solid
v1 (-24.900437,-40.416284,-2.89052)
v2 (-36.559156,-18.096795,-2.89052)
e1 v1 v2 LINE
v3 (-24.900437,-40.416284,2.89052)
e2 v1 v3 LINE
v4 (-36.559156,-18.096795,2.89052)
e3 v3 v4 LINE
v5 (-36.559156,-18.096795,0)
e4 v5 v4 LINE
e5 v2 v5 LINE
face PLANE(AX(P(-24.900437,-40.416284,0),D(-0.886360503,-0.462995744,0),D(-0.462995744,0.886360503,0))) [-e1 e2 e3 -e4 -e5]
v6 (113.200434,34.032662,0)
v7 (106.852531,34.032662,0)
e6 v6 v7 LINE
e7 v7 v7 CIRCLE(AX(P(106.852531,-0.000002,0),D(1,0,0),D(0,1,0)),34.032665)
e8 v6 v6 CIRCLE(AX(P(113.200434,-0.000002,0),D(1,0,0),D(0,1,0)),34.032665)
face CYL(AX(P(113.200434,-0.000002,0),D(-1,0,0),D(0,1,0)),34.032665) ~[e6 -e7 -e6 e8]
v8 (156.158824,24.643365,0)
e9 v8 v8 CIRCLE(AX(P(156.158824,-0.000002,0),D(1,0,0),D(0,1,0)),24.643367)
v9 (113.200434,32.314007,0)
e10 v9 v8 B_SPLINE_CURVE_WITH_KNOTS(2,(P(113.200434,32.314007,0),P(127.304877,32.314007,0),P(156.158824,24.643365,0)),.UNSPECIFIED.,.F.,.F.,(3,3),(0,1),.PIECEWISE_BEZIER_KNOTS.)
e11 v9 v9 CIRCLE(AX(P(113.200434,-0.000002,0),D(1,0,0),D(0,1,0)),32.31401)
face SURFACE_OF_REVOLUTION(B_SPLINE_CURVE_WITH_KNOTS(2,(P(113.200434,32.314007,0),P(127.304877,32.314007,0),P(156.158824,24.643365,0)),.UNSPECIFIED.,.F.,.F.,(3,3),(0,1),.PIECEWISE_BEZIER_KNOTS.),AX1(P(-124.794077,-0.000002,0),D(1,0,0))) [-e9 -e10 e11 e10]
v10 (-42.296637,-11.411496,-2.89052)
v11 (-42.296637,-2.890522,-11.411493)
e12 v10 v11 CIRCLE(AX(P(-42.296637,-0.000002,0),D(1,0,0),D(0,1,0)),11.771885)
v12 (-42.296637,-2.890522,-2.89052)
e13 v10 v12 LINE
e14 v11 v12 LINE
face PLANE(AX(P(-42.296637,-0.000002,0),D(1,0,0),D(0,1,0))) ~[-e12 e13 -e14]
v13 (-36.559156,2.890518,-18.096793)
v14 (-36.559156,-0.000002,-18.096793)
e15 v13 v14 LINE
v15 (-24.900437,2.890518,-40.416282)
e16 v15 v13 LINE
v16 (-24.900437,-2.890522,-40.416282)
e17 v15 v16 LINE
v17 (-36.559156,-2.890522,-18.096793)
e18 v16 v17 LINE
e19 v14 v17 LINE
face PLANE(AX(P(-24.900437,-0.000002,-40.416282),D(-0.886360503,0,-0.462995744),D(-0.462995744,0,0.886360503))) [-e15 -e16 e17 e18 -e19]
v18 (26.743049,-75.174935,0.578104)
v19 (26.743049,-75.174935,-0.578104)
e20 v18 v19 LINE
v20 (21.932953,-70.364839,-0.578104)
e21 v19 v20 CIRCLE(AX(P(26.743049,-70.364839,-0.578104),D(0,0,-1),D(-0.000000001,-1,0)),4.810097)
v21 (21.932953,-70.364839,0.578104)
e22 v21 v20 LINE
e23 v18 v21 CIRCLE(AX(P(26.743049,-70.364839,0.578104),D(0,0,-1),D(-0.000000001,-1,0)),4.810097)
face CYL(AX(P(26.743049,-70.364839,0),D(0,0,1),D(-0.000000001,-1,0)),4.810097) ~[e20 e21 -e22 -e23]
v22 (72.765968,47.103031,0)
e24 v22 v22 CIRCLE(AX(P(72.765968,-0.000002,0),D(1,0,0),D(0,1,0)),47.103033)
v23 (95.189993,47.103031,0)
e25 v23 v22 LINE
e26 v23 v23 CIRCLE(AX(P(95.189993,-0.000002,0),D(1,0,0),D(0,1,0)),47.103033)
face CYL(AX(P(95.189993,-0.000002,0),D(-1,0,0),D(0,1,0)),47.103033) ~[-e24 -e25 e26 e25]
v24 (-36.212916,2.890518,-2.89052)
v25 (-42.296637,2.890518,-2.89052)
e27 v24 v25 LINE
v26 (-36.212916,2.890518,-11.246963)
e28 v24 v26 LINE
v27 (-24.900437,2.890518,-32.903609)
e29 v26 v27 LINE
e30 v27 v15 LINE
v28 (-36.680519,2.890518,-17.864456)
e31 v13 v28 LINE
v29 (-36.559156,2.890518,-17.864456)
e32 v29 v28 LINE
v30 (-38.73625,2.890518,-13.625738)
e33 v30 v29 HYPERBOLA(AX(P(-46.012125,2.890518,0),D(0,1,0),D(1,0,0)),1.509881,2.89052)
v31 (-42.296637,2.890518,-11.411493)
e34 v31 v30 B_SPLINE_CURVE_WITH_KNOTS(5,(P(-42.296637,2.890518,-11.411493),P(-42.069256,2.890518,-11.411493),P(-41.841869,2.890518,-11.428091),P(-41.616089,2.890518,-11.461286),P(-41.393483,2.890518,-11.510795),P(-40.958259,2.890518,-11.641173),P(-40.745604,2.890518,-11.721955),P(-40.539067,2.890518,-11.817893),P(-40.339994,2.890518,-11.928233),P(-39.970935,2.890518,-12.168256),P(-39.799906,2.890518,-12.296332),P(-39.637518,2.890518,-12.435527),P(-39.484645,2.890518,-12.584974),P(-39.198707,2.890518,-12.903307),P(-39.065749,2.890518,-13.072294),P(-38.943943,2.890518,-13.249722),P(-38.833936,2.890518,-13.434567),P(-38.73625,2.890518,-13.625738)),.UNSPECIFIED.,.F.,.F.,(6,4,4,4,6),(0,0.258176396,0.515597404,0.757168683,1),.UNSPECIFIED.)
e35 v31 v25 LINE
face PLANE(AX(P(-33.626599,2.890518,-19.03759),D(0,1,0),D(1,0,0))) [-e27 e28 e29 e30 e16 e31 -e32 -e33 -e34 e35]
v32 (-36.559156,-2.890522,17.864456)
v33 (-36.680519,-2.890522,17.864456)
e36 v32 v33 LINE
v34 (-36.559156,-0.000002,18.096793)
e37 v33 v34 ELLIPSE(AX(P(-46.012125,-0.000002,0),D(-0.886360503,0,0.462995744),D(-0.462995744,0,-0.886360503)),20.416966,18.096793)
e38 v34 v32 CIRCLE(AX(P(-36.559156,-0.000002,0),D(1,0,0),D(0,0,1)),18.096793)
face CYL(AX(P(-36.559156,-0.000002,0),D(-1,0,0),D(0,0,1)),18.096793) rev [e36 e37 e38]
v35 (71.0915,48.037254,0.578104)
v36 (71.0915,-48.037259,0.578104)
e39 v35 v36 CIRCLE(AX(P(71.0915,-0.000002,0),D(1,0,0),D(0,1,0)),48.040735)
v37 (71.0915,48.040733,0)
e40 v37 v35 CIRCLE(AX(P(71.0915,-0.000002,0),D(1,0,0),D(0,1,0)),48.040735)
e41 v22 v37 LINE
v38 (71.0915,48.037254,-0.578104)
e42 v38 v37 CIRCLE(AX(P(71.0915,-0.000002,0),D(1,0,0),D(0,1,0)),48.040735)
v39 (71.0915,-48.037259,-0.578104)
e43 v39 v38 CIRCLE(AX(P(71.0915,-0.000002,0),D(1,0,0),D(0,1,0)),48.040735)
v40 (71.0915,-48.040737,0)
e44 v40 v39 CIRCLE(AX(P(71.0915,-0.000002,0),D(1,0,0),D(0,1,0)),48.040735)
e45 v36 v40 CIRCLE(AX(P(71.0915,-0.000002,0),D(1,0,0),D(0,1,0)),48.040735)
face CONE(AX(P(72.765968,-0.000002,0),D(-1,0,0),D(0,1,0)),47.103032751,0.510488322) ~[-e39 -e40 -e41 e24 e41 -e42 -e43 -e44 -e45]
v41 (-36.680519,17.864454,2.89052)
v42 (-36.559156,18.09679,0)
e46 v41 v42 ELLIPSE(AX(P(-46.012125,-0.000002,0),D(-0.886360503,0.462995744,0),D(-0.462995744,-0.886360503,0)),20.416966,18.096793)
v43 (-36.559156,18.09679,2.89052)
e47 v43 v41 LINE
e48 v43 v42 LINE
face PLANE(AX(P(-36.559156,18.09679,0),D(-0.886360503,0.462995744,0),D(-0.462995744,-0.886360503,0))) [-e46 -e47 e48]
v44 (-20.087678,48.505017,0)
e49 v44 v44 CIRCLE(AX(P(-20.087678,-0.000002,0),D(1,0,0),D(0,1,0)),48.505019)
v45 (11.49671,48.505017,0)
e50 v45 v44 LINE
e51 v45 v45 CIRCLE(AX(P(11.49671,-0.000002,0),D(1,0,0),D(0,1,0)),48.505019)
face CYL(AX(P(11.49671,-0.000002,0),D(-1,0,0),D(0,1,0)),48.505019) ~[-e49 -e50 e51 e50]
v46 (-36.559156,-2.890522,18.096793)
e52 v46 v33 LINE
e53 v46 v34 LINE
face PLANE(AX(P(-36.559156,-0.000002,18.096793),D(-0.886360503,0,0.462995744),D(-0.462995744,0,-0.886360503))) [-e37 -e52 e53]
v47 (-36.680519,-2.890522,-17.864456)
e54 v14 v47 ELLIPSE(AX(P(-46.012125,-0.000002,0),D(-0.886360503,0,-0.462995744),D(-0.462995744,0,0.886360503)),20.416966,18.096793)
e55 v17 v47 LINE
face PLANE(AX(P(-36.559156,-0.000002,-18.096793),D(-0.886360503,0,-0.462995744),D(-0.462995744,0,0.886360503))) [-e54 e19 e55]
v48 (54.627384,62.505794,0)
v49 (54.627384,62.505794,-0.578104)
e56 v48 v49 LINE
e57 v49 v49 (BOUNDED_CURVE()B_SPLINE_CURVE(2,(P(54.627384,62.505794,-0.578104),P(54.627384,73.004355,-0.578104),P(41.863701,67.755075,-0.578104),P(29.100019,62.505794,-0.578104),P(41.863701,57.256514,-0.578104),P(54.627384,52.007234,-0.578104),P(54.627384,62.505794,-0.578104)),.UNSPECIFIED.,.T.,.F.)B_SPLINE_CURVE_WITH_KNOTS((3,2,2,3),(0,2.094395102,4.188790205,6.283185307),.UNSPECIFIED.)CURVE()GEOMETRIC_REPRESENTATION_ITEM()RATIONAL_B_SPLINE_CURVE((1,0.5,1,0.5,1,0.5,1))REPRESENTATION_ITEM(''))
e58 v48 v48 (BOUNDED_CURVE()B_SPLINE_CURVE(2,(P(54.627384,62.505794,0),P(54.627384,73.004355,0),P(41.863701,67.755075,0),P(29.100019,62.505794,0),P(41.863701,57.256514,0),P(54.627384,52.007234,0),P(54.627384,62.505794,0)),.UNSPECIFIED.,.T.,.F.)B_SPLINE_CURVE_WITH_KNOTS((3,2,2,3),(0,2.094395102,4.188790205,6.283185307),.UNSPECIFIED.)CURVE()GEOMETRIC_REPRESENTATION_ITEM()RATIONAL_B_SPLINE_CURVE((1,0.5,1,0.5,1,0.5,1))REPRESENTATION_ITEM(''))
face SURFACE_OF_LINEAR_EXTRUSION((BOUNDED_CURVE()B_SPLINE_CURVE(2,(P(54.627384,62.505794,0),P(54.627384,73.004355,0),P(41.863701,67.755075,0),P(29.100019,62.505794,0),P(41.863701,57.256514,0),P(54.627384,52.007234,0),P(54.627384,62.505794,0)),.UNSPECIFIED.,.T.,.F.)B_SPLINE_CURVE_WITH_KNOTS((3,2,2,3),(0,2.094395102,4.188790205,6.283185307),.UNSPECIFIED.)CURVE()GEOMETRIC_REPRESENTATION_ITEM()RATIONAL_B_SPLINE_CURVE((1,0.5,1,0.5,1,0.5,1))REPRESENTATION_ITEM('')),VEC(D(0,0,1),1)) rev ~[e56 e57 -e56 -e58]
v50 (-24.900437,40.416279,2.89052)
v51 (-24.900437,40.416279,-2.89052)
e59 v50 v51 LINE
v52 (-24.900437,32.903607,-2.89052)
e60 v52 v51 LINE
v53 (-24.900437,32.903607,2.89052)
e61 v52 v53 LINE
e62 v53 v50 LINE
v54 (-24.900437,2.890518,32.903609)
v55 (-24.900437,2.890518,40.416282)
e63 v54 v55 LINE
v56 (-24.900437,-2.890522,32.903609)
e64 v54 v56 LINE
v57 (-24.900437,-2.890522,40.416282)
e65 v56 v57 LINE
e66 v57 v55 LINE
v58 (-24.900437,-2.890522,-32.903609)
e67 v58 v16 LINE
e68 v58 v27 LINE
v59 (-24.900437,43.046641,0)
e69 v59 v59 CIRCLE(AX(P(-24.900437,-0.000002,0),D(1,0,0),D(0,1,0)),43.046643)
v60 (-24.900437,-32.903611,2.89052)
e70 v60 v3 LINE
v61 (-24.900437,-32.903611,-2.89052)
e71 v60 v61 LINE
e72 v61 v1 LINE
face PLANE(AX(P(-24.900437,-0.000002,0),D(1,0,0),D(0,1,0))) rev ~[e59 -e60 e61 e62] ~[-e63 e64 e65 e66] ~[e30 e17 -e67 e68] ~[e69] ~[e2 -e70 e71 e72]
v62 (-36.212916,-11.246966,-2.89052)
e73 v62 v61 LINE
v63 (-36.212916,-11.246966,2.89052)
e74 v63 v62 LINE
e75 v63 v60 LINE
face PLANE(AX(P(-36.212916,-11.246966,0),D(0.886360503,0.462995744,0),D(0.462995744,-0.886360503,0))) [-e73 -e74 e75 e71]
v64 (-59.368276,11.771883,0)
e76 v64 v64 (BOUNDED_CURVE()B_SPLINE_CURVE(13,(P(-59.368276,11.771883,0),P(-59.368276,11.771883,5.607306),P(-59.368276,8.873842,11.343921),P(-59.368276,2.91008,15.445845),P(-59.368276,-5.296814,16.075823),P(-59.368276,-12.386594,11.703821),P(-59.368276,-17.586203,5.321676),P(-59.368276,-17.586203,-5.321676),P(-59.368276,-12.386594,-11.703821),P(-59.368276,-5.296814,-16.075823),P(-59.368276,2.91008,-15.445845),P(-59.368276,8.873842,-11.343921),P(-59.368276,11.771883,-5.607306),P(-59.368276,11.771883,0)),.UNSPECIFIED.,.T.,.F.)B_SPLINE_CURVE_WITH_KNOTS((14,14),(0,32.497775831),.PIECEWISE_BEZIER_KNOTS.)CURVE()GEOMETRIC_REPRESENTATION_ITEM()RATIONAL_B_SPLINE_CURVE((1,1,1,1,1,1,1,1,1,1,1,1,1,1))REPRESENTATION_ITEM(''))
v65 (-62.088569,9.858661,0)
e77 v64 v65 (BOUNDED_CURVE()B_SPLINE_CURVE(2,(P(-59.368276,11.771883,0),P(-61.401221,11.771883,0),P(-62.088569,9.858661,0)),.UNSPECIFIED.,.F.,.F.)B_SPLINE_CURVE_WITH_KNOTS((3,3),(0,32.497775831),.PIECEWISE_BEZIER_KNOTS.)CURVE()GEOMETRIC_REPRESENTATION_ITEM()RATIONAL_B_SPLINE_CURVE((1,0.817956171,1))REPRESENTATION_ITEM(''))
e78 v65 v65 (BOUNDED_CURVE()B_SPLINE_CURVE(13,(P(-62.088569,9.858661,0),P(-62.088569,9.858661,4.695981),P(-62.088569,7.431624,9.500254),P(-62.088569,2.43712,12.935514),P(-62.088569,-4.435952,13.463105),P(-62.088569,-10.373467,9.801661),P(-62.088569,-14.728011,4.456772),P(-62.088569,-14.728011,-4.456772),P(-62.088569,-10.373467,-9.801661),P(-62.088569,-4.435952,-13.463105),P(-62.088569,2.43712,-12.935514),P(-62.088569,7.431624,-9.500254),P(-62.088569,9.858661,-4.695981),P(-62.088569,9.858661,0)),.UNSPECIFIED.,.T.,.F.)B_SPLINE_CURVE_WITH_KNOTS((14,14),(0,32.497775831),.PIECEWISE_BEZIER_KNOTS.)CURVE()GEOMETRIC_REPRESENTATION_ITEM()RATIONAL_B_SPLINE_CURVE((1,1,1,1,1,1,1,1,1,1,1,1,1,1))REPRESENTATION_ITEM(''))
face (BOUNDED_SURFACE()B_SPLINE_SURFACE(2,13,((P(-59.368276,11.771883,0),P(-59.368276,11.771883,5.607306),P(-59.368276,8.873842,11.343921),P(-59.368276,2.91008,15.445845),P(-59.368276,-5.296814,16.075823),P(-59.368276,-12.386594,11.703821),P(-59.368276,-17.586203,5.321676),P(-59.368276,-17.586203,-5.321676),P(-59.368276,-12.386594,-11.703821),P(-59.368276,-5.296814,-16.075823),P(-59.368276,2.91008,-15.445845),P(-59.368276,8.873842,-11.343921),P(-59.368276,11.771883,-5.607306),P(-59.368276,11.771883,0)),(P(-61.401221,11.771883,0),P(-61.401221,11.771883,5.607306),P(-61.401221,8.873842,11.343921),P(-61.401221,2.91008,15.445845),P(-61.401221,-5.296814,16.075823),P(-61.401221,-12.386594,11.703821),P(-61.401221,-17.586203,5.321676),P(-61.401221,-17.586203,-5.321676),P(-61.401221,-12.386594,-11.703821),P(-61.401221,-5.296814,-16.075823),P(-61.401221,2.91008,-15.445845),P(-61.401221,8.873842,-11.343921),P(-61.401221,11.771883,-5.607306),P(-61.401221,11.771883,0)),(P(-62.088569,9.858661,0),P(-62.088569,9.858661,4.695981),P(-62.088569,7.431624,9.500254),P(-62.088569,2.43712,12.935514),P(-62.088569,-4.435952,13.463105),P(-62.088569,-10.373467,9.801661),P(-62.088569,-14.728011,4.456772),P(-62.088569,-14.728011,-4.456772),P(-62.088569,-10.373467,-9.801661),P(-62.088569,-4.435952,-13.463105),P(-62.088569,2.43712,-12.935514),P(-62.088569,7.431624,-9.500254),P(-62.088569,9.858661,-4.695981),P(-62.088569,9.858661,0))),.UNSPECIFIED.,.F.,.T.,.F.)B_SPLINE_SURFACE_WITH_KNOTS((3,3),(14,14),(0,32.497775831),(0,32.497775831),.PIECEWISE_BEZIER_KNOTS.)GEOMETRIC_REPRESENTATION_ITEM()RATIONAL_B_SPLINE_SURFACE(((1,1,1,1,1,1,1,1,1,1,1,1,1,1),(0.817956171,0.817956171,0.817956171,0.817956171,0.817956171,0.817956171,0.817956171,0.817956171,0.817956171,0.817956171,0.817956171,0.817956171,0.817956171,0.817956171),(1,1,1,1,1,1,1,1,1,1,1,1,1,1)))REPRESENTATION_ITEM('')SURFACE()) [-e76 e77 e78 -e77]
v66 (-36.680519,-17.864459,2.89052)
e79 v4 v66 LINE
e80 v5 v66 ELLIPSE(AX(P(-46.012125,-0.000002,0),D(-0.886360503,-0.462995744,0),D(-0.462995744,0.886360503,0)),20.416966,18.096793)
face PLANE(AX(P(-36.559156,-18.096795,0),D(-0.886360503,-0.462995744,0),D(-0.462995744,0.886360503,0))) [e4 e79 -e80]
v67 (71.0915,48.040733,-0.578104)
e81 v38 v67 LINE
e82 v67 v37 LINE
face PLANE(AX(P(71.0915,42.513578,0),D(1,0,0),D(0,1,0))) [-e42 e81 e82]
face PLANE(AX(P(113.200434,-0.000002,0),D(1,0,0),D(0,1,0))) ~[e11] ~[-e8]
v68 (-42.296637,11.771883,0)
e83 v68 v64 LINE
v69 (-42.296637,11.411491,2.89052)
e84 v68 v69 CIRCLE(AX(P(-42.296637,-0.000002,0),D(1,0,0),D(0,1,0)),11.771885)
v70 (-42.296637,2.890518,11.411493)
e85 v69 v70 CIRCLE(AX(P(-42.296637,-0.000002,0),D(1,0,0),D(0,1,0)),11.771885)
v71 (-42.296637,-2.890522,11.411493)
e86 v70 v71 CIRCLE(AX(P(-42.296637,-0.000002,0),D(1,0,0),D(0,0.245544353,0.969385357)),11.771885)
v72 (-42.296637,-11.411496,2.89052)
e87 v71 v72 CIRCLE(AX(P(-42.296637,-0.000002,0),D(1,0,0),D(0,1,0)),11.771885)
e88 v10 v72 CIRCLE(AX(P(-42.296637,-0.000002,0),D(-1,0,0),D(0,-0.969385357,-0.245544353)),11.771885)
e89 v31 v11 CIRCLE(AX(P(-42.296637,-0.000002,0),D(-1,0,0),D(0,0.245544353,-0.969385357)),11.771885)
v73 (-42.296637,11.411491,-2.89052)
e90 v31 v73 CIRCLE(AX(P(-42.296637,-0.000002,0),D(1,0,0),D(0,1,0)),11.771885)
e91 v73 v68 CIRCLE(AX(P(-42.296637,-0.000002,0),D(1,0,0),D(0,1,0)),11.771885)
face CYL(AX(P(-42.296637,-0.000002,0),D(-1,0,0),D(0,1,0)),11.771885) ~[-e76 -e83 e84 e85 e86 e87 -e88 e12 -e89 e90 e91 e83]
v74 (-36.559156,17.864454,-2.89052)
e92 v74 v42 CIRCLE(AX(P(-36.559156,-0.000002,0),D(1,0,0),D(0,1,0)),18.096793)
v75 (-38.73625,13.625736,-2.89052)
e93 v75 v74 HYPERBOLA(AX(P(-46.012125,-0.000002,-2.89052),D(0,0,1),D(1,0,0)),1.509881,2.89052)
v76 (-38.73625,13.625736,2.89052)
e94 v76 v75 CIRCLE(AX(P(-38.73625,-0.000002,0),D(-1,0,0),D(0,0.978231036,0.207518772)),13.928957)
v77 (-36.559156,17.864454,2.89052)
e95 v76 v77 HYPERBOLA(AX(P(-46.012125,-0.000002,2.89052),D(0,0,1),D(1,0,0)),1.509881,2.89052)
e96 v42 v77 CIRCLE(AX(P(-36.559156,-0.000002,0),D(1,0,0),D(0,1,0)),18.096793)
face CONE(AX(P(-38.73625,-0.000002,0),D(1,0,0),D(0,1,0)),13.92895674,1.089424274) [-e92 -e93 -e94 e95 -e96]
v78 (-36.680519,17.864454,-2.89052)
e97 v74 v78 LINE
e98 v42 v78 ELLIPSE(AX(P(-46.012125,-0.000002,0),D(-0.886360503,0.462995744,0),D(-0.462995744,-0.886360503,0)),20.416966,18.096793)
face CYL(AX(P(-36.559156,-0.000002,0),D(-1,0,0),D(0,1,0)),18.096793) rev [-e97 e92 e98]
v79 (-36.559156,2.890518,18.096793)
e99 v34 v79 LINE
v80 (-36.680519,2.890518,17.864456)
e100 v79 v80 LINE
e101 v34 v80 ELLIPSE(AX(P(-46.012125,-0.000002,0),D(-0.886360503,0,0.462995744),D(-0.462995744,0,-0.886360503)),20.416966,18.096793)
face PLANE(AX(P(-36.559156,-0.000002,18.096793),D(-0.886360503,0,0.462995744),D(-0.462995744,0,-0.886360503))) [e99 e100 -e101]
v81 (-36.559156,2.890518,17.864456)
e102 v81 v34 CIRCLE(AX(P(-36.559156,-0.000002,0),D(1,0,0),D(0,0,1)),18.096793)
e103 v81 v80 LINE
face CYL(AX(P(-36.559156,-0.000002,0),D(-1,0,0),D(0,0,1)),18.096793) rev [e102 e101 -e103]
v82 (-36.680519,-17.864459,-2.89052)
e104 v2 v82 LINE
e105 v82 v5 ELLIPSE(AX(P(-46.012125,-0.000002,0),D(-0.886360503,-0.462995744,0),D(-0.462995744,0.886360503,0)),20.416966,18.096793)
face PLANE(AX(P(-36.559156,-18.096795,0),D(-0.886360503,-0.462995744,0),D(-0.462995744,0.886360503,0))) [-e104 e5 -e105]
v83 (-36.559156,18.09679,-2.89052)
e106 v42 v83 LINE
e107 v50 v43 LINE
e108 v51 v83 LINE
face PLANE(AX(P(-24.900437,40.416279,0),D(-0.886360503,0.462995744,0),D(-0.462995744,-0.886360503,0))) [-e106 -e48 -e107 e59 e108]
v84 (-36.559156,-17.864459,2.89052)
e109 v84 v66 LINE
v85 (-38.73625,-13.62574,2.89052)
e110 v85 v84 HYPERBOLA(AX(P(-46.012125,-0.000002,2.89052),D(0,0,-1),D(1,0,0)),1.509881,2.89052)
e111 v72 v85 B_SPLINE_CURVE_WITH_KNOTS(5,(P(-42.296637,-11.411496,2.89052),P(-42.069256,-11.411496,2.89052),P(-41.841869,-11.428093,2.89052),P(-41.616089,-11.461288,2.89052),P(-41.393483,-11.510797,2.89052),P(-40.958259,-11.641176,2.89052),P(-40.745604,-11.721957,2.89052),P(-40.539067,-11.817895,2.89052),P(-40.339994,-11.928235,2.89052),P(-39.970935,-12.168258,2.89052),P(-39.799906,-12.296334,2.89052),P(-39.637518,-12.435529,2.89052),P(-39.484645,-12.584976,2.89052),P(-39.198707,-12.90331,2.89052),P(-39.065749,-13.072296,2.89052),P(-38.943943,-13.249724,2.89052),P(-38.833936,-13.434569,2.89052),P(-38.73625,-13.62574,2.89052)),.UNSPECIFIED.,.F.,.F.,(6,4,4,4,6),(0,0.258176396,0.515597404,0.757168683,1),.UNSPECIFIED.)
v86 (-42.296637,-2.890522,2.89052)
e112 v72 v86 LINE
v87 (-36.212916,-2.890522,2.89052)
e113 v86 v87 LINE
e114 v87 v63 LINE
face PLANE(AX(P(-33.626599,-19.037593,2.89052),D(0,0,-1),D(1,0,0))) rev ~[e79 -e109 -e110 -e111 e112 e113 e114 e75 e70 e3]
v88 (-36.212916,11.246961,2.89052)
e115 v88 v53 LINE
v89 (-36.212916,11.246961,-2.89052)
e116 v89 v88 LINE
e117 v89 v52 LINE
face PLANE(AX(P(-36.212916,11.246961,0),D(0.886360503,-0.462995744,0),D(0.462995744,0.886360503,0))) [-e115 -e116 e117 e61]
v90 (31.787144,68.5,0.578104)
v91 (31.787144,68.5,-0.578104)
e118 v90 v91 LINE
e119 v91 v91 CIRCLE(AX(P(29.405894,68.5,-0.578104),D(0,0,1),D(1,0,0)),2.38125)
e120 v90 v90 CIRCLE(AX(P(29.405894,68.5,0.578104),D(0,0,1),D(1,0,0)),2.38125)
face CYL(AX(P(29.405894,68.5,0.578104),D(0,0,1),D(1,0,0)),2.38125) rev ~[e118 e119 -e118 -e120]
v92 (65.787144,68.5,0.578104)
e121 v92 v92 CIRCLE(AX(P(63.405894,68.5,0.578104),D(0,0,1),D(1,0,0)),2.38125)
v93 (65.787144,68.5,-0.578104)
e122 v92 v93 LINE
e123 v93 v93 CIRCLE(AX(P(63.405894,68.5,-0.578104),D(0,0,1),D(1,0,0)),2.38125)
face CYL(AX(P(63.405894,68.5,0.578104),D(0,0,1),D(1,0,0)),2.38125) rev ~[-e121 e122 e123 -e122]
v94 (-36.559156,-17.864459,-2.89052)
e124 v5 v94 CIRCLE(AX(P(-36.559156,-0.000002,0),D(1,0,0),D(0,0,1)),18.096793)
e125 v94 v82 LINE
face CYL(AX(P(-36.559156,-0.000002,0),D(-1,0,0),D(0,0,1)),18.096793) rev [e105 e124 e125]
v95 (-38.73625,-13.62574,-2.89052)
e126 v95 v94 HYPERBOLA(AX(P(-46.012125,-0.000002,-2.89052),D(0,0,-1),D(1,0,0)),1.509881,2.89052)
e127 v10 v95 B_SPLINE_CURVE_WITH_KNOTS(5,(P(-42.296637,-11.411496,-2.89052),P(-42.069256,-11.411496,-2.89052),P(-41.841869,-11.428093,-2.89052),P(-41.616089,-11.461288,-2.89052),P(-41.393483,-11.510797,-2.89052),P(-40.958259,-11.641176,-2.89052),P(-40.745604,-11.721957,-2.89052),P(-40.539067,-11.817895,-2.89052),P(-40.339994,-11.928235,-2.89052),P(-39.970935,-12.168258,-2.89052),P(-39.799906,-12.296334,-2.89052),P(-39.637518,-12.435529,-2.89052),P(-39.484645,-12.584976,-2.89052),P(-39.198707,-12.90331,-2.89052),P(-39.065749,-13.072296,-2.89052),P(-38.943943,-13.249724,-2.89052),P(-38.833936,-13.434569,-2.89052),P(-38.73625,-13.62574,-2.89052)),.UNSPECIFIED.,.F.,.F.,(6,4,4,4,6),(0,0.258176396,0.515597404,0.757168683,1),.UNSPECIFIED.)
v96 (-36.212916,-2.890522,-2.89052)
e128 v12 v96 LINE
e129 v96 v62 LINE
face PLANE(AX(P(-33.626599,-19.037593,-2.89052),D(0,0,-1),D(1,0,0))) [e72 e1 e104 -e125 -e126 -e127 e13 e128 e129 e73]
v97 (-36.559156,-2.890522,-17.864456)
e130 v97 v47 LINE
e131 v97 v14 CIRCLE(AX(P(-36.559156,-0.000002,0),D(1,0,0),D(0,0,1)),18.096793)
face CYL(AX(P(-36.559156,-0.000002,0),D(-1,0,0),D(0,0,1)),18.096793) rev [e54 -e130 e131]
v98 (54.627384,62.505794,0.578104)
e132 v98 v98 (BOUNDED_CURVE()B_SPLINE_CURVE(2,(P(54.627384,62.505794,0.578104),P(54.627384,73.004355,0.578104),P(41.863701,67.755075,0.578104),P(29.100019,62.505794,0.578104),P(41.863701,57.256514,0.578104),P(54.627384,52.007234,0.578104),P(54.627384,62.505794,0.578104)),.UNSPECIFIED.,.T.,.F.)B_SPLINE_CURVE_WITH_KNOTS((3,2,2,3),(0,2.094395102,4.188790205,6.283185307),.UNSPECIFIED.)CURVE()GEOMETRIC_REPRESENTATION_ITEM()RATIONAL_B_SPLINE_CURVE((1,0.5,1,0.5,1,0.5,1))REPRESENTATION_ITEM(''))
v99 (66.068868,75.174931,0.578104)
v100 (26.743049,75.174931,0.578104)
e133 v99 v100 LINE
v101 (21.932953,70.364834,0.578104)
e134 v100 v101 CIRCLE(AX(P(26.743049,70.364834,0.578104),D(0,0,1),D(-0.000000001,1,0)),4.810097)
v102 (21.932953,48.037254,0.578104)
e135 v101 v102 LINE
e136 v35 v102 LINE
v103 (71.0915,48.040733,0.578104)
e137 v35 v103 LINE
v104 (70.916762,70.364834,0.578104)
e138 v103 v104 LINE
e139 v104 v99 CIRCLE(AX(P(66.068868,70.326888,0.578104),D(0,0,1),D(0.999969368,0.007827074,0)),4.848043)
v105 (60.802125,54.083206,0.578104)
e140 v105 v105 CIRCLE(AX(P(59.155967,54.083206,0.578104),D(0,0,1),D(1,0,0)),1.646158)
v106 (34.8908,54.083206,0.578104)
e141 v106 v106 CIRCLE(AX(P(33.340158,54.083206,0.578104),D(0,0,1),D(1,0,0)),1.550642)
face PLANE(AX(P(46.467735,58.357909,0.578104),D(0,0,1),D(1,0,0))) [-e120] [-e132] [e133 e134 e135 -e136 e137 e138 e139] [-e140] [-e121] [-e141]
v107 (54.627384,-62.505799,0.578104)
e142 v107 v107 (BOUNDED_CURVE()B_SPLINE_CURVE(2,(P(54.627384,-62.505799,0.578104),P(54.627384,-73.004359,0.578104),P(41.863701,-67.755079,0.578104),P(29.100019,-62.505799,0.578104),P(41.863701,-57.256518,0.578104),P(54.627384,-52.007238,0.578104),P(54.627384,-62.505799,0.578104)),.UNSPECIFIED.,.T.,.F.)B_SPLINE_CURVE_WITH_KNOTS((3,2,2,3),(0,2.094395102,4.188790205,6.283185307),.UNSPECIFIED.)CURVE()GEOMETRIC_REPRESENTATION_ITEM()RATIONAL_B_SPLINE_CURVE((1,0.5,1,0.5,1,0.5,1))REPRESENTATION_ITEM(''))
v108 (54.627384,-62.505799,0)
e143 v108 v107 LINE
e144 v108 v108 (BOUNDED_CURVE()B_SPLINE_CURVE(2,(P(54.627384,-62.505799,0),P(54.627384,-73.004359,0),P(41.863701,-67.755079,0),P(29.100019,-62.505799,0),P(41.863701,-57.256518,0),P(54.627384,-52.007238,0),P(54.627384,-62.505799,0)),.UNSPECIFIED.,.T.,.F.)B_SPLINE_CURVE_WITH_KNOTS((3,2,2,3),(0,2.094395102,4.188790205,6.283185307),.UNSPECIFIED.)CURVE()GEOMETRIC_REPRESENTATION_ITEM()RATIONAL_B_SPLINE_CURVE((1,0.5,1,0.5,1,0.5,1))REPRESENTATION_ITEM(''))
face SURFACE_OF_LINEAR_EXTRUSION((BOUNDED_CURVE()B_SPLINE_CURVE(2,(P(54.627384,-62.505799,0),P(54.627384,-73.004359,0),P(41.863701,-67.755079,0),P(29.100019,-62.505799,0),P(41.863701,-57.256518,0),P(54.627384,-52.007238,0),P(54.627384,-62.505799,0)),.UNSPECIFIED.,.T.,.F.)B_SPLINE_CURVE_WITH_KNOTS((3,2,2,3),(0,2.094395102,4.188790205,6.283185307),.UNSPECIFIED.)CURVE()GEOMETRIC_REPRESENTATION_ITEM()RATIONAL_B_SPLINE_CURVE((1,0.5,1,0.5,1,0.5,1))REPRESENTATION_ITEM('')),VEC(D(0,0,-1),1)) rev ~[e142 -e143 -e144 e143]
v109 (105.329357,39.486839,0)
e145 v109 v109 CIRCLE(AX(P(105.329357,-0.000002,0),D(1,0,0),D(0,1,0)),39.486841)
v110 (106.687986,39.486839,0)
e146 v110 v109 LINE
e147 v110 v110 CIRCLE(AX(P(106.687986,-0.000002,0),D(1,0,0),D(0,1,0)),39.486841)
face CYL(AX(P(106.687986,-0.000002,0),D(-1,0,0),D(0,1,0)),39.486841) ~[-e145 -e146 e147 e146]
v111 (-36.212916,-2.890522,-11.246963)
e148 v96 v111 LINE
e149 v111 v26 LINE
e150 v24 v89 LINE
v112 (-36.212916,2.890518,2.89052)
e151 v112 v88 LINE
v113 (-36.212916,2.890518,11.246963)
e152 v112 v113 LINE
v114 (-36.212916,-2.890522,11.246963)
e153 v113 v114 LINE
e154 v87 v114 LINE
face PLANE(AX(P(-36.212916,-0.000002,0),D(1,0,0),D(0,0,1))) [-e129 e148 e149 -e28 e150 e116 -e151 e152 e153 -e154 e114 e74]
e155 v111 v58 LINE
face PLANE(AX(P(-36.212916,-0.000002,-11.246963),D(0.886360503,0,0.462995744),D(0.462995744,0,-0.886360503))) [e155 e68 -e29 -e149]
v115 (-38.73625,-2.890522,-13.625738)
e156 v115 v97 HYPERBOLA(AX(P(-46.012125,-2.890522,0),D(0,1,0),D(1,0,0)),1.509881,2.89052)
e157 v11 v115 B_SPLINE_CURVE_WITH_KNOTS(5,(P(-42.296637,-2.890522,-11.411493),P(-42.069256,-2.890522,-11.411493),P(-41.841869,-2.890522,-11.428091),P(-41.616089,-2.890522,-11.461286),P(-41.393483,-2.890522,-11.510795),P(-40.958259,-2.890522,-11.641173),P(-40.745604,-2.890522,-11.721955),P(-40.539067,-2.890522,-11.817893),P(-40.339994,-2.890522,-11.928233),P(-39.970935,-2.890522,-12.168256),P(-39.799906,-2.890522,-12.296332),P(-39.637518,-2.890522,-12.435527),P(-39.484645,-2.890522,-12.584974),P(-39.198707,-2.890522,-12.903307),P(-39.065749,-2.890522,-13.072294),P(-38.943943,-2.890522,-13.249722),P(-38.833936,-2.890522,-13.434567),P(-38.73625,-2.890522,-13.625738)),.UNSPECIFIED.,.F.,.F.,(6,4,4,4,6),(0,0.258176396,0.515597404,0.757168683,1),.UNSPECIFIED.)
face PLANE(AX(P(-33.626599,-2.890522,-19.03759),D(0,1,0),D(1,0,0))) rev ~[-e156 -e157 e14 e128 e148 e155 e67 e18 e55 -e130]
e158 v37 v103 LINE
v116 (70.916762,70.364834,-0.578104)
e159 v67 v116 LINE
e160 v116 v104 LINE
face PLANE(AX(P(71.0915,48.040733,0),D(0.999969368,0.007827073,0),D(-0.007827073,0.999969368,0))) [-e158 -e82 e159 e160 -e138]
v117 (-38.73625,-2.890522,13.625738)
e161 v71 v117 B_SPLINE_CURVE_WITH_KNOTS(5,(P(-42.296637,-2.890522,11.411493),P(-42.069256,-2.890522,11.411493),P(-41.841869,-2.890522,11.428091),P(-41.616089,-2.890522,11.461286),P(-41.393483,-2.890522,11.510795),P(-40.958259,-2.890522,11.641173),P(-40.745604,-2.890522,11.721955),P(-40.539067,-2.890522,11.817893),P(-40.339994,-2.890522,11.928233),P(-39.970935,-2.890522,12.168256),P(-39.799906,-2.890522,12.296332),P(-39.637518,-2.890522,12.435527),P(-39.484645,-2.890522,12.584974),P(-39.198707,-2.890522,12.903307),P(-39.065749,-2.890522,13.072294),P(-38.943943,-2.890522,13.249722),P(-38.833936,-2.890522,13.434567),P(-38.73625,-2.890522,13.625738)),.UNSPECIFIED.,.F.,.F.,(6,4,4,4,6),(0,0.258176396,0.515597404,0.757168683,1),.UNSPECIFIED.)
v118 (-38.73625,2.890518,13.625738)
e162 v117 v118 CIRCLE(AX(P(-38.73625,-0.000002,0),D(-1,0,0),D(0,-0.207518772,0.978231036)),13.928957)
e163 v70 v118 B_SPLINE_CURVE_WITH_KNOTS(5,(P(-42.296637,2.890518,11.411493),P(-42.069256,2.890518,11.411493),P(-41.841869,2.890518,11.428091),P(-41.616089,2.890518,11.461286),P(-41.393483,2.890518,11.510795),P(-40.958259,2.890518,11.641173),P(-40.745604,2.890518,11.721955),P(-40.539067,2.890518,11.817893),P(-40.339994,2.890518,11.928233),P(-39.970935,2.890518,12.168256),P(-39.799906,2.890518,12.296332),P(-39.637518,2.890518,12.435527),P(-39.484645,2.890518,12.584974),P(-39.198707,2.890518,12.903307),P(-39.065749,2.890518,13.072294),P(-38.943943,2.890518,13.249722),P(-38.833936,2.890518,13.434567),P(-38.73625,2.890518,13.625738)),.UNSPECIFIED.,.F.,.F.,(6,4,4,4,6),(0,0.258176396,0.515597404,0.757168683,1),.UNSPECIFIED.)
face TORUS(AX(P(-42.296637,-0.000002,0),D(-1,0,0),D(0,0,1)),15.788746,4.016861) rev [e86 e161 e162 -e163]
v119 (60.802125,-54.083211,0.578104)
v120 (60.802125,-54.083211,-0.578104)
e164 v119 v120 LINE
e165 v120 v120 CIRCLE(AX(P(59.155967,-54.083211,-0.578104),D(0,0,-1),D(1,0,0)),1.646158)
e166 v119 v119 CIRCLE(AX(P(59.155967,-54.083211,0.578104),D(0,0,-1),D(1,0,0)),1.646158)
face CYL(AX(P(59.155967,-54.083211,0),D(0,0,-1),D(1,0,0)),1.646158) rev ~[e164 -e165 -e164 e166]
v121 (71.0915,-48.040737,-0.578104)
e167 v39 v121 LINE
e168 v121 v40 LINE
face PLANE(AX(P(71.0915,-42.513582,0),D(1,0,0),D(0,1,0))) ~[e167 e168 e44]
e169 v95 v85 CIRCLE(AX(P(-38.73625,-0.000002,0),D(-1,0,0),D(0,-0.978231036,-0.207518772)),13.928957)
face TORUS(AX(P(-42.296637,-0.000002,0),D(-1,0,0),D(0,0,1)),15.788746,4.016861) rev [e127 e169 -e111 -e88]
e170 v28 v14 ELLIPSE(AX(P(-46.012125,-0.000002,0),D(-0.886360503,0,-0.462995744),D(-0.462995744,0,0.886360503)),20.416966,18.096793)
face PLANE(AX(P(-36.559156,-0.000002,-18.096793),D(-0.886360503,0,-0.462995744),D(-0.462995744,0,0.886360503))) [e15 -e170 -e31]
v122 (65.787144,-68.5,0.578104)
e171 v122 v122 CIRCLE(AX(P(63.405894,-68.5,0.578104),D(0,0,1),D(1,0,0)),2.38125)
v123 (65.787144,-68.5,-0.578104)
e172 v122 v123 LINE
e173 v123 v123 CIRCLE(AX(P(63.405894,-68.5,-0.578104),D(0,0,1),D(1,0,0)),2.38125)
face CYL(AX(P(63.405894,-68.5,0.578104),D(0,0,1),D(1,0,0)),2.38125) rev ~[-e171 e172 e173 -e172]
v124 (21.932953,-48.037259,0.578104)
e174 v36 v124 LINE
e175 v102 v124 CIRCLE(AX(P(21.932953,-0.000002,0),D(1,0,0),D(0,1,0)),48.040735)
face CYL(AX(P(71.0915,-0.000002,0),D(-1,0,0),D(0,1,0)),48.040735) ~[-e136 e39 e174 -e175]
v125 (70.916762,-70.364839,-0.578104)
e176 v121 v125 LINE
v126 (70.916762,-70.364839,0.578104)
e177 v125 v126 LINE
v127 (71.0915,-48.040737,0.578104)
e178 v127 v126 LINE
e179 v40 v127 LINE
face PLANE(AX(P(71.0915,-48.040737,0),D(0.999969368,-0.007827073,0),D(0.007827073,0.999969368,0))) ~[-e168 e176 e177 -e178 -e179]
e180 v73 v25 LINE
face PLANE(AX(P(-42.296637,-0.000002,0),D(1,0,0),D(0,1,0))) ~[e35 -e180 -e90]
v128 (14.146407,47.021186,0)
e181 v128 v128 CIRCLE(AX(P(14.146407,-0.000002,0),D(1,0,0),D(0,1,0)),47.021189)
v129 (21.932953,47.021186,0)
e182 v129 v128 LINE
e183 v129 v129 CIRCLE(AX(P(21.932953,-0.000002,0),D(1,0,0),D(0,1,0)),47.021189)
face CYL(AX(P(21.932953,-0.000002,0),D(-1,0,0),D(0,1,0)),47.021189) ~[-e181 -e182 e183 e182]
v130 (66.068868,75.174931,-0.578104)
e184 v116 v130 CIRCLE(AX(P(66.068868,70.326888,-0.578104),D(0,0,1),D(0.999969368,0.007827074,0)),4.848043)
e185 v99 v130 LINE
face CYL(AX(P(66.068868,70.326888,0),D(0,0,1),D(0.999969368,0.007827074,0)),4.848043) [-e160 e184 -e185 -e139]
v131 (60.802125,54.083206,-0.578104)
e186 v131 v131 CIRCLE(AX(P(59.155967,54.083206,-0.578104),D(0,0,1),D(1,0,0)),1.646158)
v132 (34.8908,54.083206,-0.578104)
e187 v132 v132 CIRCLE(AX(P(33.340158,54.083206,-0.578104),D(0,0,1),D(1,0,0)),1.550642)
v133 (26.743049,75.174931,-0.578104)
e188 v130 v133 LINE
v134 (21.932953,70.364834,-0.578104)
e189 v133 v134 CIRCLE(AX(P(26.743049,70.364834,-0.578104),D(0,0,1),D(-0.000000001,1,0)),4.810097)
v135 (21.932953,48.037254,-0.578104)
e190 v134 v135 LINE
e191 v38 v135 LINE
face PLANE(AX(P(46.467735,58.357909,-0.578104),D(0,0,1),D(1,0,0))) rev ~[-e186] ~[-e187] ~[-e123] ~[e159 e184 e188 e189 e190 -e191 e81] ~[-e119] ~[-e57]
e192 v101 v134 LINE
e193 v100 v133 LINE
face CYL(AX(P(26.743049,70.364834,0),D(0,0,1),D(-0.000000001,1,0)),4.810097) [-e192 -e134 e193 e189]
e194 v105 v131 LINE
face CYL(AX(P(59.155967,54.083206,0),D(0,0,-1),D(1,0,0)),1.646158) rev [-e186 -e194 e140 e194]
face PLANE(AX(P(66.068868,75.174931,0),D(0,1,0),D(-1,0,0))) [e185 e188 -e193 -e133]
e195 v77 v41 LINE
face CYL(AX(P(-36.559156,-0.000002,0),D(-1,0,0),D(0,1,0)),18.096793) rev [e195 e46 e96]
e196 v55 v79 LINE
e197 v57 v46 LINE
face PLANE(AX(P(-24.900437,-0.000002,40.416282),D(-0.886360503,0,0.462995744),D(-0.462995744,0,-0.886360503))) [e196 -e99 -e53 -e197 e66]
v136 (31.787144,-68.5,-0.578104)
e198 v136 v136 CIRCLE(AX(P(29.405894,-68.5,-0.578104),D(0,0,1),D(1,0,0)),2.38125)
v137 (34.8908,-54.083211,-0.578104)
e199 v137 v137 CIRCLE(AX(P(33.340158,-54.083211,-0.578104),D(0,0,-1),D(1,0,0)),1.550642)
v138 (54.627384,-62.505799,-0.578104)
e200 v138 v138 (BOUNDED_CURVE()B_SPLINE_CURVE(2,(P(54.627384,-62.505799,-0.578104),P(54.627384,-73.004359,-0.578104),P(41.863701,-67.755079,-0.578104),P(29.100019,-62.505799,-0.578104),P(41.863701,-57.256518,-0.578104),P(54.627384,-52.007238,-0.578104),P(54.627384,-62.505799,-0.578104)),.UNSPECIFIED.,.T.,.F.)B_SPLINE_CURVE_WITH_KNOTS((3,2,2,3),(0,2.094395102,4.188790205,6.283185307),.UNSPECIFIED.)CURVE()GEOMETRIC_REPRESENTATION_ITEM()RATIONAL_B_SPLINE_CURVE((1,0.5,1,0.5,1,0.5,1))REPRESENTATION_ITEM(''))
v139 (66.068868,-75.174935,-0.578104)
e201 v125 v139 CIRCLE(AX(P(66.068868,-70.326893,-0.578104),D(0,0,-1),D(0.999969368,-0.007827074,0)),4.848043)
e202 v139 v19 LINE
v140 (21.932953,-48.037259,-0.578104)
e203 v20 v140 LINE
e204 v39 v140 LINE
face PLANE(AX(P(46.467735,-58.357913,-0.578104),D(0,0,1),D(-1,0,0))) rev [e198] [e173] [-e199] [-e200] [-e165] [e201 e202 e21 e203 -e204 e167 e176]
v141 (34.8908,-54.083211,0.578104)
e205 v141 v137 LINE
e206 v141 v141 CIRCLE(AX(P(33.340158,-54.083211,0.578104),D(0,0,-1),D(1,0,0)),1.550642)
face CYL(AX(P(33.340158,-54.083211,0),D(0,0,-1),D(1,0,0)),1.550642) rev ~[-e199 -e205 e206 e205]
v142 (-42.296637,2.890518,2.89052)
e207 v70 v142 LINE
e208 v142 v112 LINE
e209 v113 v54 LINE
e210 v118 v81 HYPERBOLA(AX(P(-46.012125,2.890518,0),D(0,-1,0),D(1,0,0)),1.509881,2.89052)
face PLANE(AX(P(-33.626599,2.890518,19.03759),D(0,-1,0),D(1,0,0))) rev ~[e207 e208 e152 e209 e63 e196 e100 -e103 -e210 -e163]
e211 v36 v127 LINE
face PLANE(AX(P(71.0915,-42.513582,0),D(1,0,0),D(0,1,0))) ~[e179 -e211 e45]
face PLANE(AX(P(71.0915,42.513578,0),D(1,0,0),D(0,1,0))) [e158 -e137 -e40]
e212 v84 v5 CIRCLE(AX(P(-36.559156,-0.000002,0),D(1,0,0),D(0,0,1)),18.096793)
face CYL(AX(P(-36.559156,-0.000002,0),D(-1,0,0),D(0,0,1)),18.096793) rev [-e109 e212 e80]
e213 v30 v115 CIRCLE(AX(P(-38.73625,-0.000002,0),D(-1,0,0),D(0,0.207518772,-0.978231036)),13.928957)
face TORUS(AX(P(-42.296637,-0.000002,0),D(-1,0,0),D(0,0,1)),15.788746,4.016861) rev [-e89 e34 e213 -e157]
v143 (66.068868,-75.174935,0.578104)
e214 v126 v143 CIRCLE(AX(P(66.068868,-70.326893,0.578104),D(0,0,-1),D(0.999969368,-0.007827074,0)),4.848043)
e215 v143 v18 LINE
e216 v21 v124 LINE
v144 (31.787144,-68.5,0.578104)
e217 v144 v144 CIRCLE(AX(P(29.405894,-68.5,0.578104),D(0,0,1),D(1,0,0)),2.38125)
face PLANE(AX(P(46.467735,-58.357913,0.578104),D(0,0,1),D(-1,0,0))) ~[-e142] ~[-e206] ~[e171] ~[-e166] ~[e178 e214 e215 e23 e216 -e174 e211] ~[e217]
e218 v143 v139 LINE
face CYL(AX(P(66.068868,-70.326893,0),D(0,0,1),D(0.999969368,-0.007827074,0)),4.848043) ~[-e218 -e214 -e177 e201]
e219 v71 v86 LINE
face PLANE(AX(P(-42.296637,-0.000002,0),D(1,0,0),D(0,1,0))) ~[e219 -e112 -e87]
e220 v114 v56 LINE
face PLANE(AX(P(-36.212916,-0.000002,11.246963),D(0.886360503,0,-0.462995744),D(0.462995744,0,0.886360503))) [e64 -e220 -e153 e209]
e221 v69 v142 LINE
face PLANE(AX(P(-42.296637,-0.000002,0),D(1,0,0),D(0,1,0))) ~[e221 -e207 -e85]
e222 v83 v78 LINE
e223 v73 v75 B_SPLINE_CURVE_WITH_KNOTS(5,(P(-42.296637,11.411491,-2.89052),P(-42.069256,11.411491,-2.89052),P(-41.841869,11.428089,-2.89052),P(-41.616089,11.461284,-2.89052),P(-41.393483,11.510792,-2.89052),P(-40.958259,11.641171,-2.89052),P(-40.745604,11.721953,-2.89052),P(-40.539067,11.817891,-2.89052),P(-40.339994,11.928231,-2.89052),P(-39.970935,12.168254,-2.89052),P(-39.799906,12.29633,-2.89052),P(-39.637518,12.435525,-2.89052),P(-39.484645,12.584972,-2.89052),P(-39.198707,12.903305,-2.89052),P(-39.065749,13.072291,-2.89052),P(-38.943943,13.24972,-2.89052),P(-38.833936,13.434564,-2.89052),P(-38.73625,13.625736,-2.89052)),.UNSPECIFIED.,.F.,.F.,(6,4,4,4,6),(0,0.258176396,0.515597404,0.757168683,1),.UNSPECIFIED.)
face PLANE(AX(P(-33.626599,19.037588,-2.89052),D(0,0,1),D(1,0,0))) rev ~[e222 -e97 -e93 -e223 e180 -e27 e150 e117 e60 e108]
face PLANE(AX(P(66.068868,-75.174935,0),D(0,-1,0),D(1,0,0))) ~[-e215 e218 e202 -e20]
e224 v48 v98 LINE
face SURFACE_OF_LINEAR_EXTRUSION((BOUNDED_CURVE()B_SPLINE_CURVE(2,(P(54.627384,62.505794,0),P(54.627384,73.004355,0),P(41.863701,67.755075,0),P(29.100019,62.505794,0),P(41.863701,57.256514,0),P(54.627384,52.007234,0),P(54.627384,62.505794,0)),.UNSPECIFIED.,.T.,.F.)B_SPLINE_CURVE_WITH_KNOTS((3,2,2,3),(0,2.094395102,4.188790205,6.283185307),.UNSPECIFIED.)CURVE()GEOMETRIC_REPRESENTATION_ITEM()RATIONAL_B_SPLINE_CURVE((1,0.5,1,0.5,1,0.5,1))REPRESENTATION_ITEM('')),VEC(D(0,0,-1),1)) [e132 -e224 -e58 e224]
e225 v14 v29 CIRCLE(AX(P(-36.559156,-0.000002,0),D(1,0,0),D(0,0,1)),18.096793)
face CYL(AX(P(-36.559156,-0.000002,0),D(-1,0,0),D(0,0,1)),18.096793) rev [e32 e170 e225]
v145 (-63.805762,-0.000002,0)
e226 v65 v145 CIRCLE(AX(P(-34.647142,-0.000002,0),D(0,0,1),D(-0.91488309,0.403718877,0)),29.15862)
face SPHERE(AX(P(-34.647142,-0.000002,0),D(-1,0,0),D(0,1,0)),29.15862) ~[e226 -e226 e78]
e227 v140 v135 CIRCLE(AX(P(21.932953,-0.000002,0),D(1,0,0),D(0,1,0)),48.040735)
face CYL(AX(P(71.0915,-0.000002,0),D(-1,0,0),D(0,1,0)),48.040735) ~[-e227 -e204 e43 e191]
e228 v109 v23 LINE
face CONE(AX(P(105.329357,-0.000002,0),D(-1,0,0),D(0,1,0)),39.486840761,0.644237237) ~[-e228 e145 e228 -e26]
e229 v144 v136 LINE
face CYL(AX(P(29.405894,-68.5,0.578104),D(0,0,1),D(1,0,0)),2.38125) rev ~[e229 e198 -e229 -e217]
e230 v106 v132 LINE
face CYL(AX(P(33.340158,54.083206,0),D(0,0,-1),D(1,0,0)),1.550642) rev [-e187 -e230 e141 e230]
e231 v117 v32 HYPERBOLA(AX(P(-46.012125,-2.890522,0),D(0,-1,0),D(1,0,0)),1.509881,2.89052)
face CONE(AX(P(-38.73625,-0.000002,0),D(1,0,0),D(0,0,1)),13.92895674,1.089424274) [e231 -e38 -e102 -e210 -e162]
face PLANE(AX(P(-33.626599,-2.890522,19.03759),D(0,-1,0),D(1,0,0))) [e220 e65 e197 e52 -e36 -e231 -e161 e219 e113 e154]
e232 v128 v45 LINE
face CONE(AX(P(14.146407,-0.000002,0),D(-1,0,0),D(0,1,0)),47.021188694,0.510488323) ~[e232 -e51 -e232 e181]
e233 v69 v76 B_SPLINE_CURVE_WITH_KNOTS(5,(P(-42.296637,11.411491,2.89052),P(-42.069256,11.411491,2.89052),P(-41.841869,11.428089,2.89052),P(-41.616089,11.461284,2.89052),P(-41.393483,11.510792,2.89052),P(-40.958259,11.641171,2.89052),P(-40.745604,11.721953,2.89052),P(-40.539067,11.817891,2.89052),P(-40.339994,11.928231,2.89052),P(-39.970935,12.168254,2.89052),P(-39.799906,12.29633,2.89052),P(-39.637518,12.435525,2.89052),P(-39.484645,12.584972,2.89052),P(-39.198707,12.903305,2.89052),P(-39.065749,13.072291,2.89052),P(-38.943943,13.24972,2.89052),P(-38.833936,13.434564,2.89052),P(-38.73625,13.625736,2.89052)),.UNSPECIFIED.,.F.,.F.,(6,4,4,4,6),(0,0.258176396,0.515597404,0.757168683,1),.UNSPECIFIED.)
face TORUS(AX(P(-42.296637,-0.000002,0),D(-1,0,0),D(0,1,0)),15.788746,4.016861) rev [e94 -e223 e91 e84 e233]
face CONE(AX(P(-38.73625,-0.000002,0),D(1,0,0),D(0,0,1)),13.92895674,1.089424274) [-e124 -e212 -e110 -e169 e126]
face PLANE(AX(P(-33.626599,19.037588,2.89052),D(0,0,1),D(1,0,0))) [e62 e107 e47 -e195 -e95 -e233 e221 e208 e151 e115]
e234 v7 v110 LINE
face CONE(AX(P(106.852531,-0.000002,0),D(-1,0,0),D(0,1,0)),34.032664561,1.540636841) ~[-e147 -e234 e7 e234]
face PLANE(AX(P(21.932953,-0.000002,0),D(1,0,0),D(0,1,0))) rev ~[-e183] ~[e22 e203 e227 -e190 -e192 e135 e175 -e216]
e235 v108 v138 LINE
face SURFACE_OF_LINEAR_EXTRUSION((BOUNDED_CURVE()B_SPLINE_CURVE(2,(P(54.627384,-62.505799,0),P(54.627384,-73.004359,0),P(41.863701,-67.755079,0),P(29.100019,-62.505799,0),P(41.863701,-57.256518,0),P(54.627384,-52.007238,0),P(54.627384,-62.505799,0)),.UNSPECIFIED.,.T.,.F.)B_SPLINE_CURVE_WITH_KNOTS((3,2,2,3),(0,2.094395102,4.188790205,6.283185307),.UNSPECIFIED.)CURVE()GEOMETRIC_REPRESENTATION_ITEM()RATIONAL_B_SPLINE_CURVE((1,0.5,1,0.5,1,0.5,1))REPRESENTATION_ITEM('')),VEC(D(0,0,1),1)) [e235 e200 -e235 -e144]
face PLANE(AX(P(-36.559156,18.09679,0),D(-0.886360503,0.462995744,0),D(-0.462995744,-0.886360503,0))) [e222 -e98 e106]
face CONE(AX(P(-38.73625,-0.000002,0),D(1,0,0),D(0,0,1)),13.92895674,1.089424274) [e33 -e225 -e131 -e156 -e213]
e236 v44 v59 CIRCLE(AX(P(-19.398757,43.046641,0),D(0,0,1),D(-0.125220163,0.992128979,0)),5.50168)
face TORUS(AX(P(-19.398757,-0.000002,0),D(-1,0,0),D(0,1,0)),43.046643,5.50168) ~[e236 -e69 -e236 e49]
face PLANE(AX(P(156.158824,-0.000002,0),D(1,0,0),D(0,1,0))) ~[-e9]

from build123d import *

# Parameters (mm, degrees)
SKETCH1_4_R         = 0.681301536
SKETCH1_4_R_2       = 0.723268125
BOSS_EXTRUDE1_DEPTH = 0.254
BOSS_EXTRUDE2_DEPTH = 1.27
CIRPATTERN1_COUNT   = 4
FILLET1_R           = 1.27
SCALE1_SCALE        = 2.276
SKETCH2_R           = 2.38125
CUT_EXTRUDE1_DEPTH  = 181.12773864


with BuildPart() as part:
    # Sketch1 → Revolve1 (revolve)
    with BuildSketch(Plane.XY):
        with BuildLine():
            Line((9.450406563, 5.172181663), (1.090462068, 5.172181663))
            ThreePointArc((1.090462068, 5.172181663), (0.275579454, 2.642942048), (0, 0))
            Line((0, 0), (9.450406563, 0))
            Line((9.450406563, 0), (9.450406563, 5.172181663))
        make_face()
        with BuildLine():
            Line((17.093728294, 18.913287876), (17.093728294, 0))
            Line((17.093728294, 0), (96.645248899, 0))
            Line((96.645248899, 0), (96.645248899, 10.827489794))
            add(Edge.make_bspline(
                [(77.770736546, 14.197719485), (83.967767677, 14.197719485), (96.645248899, 10.827489794)],
                knots=[0, 0, 0, 1, 1, 1], degree=2))
            Line((77.770736546, 14.197719485), (77.770736546, 14.952840317))
            Line((77.770736546, 14.952840317), (74.981675377, 14.952840317))
            Line((74.981675377, 14.952840317), (74.909379663, 17.349227048))
            Line((74.909379663, 17.349227048), (74.312442602, 17.349227048))
            Line((74.312442602, 17.349227048), (69.857537365, 20.695532843))
            Line((69.857537365, 20.695532843), (60.005153989, 20.695532843))
            Line((60.005153989, 20.695532843), (59.2694473, 21.107528589))
            Line((59.2694473, 21.107528589), (37.67078875, 21.107528589))
            Line((37.67078875, 21.107528589), (37.67078875, 20.65957324))
            Line((37.67078875, 20.65957324), (34.249634962, 20.65957324))
            Line((34.249634962, 20.65957324), (33.085444719, 21.311519777))
            Line((33.085444719, 21.311519777), (19.208297022, 21.311519777))
            ThreePointArc((19.208297022, 21.311519777), (17.697865454, 20.511952721), (17.093728294, 18.913287876))
        make_face()
    revolve(axis=Axis((-26.796271974, 0, 0), (1, 0, 0)))

    # Sketch1<4> → Boss-Extrude1 (add, symmetric)
    with BuildSketch(Plane.XY):
        with BuildLine():
            Line((37.67078875, 18.679077388), (59.2694473, 18.679077388))
            Line((59.2694473, 18.679077388), (59.2694473, 21.107528589))
            Line((59.2694473, 21.107528589), (59.192673253, 30.916009008))
            ThreePointArc((59.192673253, 30.916009008), (58.562948924, 32.411407764), (57.062667076, 33.029408208))
            Line((57.062667076, 33.029408208), (39.784187951, 33.029408208))
            ThreePointArc((39.784187951, 33.029408208), (38.289789045, 32.410407913), (37.67078875, 30.916009008))
            Line((37.67078875, 30.916009008), (37.67078875, 18.679077388))
        make_face()
        with Locations((42.682741772, 23.762393902)):
            Circle(SKETCH1_4_R, mode=Mode.SUBTRACT)
        with BuildLine():
            add(Edge.make_bspline(
                [(52.035652914, 27.463003731), (52.035652914, 32.075728112), (46.427708226, 29.769365921), (40.819763537, 27.463003731), (46.427708226, 25.156641541), (52.035652914, 22.85027935), (52.035652914, 27.463003731)],
                knots=[0, 0, 0, 2.094395102, 2.094395102, 4.188790205, 4.188790205, 6.283185307, 6.283185307, 6.283185307], degree=2, weights=[1, 0.5, 1, 0.5, 1, 0.5, 1]))
        make_face(mode=Mode.SUBTRACT)
        with Locations((54.025364363, 23.762393902)):
            Circle(SKETCH1_4_R_2, mode=Mode.SUBTRACT)
    boss_extrude1 = extrude(amount=BOSS_EXTRUDE1_DEPTH, both=True)

    # Sketch1<5> → Boss-Extrude2 (add, symmetric)
    with BuildSketch(Plane.XY):
        with BuildLine():
            ThreePointArc((11.014724068, 6.119928269), (10.364916389, 5.427600899), (9.450406563, 5.172181663))
            Line((9.450406563, 5.172181663), (9.450406563, 0))
            Line((9.450406563, 0), (12.123394722, 0))
            Line((12.123394722, 0), (12.123394722, 4.941548024))
            Line((12.123394722, 4.941548024), (17.093728294, 14.456770177))
            Line((17.093728294, 14.456770177), (17.093728294, 17.757592992))
            Line((17.093728294, 17.757592992), (11.971268091, 7.951139141))
            Line((11.971268091, 7.951139141), (11.014724068, 6.119928269))
        make_face()
    boss_extrude2 = extrude(amount=BOSS_EXTRUDE2_DEPTH, both=True)

    # Sketch1<6> → Cut-Revolve1 (revolve, cut)
    with BuildSketch(Plane.XY):
        with BuildLine():
            Line((9.450406563, 7.951139141), (9.450406563, 5.172181663))
            ThreePointArc((9.450406563, 5.172181663), (10.364916389, 5.427600899), (11.014724068, 6.119928269))
            Line((11.014724068, 6.119928269), (11.971268091, 7.951139141))
            Line((11.971268091, 7.951139141), (9.450406563, 7.951139141))
        make_face()
    cut_revolve1 = revolve(axis=Axis((-26.796271974, 0, 0), (1, 0, 0)), mode=Mode.SUBTRACT)

    # CirPattern1: Boss-Extrude2, Cut-Revolve1 ×4 about axis
    cirpattern1_axis = Axis((-26.796271974, 0, 0), (1, 0, 0))
    add([boss_extrude2.rotate(cirpattern1_axis, i * 360 / CIRPATTERN1_COUNT) for i in range(1, CIRPATTERN1_COUNT)])
    add([cut_revolve1.rotate(cirpattern1_axis, i * 360 / CIRPATTERN1_COUNT) for i in range(1, CIRPATTERN1_COUNT)], mode=Mode.SUBTRACT)

    # Mirror1: Boss-Extrude1 across plane
    add(boss_extrude1.mirror(Plane.ZX))

    # Fillet1
    fillet1_edges = [part.edges().sort_by_distance(p)[0] for p in [
        (1.090462068, -5.172181663, 0),
    ]]
    fillet(fillet1_edges, radius=FILLET1_R)


with BuildPart() as part_1:
    # Scale1: scaled about (50.004516039, 1.725e-06, 0)
    add(part.part.scale(SCALE1_SCALE).moved(Location((-63.805762466, -2.201e-06, 0))))

    # Sketch2 → Cut-Extrude1 (cut, through all)
    with BuildSketch(Plane.XY.offset(0.578104003)):
        with Locations((29.405893819, 68.5)):
            Circle(SKETCH2_R)
        with Locations((63.405893819, 68.5)):
            Circle(SKETCH2_R)
        with Locations((29.405893819, -68.5)):
            Circle(SKETCH2_R)
        with Locations((63.405893819, -68.5)):
            Circle(SKETCH2_R)
    extrude(amount=-CUT_EXTRUDE1_DEPTH, mode=Mode.SUBTRACT)


solid = part_1.part
